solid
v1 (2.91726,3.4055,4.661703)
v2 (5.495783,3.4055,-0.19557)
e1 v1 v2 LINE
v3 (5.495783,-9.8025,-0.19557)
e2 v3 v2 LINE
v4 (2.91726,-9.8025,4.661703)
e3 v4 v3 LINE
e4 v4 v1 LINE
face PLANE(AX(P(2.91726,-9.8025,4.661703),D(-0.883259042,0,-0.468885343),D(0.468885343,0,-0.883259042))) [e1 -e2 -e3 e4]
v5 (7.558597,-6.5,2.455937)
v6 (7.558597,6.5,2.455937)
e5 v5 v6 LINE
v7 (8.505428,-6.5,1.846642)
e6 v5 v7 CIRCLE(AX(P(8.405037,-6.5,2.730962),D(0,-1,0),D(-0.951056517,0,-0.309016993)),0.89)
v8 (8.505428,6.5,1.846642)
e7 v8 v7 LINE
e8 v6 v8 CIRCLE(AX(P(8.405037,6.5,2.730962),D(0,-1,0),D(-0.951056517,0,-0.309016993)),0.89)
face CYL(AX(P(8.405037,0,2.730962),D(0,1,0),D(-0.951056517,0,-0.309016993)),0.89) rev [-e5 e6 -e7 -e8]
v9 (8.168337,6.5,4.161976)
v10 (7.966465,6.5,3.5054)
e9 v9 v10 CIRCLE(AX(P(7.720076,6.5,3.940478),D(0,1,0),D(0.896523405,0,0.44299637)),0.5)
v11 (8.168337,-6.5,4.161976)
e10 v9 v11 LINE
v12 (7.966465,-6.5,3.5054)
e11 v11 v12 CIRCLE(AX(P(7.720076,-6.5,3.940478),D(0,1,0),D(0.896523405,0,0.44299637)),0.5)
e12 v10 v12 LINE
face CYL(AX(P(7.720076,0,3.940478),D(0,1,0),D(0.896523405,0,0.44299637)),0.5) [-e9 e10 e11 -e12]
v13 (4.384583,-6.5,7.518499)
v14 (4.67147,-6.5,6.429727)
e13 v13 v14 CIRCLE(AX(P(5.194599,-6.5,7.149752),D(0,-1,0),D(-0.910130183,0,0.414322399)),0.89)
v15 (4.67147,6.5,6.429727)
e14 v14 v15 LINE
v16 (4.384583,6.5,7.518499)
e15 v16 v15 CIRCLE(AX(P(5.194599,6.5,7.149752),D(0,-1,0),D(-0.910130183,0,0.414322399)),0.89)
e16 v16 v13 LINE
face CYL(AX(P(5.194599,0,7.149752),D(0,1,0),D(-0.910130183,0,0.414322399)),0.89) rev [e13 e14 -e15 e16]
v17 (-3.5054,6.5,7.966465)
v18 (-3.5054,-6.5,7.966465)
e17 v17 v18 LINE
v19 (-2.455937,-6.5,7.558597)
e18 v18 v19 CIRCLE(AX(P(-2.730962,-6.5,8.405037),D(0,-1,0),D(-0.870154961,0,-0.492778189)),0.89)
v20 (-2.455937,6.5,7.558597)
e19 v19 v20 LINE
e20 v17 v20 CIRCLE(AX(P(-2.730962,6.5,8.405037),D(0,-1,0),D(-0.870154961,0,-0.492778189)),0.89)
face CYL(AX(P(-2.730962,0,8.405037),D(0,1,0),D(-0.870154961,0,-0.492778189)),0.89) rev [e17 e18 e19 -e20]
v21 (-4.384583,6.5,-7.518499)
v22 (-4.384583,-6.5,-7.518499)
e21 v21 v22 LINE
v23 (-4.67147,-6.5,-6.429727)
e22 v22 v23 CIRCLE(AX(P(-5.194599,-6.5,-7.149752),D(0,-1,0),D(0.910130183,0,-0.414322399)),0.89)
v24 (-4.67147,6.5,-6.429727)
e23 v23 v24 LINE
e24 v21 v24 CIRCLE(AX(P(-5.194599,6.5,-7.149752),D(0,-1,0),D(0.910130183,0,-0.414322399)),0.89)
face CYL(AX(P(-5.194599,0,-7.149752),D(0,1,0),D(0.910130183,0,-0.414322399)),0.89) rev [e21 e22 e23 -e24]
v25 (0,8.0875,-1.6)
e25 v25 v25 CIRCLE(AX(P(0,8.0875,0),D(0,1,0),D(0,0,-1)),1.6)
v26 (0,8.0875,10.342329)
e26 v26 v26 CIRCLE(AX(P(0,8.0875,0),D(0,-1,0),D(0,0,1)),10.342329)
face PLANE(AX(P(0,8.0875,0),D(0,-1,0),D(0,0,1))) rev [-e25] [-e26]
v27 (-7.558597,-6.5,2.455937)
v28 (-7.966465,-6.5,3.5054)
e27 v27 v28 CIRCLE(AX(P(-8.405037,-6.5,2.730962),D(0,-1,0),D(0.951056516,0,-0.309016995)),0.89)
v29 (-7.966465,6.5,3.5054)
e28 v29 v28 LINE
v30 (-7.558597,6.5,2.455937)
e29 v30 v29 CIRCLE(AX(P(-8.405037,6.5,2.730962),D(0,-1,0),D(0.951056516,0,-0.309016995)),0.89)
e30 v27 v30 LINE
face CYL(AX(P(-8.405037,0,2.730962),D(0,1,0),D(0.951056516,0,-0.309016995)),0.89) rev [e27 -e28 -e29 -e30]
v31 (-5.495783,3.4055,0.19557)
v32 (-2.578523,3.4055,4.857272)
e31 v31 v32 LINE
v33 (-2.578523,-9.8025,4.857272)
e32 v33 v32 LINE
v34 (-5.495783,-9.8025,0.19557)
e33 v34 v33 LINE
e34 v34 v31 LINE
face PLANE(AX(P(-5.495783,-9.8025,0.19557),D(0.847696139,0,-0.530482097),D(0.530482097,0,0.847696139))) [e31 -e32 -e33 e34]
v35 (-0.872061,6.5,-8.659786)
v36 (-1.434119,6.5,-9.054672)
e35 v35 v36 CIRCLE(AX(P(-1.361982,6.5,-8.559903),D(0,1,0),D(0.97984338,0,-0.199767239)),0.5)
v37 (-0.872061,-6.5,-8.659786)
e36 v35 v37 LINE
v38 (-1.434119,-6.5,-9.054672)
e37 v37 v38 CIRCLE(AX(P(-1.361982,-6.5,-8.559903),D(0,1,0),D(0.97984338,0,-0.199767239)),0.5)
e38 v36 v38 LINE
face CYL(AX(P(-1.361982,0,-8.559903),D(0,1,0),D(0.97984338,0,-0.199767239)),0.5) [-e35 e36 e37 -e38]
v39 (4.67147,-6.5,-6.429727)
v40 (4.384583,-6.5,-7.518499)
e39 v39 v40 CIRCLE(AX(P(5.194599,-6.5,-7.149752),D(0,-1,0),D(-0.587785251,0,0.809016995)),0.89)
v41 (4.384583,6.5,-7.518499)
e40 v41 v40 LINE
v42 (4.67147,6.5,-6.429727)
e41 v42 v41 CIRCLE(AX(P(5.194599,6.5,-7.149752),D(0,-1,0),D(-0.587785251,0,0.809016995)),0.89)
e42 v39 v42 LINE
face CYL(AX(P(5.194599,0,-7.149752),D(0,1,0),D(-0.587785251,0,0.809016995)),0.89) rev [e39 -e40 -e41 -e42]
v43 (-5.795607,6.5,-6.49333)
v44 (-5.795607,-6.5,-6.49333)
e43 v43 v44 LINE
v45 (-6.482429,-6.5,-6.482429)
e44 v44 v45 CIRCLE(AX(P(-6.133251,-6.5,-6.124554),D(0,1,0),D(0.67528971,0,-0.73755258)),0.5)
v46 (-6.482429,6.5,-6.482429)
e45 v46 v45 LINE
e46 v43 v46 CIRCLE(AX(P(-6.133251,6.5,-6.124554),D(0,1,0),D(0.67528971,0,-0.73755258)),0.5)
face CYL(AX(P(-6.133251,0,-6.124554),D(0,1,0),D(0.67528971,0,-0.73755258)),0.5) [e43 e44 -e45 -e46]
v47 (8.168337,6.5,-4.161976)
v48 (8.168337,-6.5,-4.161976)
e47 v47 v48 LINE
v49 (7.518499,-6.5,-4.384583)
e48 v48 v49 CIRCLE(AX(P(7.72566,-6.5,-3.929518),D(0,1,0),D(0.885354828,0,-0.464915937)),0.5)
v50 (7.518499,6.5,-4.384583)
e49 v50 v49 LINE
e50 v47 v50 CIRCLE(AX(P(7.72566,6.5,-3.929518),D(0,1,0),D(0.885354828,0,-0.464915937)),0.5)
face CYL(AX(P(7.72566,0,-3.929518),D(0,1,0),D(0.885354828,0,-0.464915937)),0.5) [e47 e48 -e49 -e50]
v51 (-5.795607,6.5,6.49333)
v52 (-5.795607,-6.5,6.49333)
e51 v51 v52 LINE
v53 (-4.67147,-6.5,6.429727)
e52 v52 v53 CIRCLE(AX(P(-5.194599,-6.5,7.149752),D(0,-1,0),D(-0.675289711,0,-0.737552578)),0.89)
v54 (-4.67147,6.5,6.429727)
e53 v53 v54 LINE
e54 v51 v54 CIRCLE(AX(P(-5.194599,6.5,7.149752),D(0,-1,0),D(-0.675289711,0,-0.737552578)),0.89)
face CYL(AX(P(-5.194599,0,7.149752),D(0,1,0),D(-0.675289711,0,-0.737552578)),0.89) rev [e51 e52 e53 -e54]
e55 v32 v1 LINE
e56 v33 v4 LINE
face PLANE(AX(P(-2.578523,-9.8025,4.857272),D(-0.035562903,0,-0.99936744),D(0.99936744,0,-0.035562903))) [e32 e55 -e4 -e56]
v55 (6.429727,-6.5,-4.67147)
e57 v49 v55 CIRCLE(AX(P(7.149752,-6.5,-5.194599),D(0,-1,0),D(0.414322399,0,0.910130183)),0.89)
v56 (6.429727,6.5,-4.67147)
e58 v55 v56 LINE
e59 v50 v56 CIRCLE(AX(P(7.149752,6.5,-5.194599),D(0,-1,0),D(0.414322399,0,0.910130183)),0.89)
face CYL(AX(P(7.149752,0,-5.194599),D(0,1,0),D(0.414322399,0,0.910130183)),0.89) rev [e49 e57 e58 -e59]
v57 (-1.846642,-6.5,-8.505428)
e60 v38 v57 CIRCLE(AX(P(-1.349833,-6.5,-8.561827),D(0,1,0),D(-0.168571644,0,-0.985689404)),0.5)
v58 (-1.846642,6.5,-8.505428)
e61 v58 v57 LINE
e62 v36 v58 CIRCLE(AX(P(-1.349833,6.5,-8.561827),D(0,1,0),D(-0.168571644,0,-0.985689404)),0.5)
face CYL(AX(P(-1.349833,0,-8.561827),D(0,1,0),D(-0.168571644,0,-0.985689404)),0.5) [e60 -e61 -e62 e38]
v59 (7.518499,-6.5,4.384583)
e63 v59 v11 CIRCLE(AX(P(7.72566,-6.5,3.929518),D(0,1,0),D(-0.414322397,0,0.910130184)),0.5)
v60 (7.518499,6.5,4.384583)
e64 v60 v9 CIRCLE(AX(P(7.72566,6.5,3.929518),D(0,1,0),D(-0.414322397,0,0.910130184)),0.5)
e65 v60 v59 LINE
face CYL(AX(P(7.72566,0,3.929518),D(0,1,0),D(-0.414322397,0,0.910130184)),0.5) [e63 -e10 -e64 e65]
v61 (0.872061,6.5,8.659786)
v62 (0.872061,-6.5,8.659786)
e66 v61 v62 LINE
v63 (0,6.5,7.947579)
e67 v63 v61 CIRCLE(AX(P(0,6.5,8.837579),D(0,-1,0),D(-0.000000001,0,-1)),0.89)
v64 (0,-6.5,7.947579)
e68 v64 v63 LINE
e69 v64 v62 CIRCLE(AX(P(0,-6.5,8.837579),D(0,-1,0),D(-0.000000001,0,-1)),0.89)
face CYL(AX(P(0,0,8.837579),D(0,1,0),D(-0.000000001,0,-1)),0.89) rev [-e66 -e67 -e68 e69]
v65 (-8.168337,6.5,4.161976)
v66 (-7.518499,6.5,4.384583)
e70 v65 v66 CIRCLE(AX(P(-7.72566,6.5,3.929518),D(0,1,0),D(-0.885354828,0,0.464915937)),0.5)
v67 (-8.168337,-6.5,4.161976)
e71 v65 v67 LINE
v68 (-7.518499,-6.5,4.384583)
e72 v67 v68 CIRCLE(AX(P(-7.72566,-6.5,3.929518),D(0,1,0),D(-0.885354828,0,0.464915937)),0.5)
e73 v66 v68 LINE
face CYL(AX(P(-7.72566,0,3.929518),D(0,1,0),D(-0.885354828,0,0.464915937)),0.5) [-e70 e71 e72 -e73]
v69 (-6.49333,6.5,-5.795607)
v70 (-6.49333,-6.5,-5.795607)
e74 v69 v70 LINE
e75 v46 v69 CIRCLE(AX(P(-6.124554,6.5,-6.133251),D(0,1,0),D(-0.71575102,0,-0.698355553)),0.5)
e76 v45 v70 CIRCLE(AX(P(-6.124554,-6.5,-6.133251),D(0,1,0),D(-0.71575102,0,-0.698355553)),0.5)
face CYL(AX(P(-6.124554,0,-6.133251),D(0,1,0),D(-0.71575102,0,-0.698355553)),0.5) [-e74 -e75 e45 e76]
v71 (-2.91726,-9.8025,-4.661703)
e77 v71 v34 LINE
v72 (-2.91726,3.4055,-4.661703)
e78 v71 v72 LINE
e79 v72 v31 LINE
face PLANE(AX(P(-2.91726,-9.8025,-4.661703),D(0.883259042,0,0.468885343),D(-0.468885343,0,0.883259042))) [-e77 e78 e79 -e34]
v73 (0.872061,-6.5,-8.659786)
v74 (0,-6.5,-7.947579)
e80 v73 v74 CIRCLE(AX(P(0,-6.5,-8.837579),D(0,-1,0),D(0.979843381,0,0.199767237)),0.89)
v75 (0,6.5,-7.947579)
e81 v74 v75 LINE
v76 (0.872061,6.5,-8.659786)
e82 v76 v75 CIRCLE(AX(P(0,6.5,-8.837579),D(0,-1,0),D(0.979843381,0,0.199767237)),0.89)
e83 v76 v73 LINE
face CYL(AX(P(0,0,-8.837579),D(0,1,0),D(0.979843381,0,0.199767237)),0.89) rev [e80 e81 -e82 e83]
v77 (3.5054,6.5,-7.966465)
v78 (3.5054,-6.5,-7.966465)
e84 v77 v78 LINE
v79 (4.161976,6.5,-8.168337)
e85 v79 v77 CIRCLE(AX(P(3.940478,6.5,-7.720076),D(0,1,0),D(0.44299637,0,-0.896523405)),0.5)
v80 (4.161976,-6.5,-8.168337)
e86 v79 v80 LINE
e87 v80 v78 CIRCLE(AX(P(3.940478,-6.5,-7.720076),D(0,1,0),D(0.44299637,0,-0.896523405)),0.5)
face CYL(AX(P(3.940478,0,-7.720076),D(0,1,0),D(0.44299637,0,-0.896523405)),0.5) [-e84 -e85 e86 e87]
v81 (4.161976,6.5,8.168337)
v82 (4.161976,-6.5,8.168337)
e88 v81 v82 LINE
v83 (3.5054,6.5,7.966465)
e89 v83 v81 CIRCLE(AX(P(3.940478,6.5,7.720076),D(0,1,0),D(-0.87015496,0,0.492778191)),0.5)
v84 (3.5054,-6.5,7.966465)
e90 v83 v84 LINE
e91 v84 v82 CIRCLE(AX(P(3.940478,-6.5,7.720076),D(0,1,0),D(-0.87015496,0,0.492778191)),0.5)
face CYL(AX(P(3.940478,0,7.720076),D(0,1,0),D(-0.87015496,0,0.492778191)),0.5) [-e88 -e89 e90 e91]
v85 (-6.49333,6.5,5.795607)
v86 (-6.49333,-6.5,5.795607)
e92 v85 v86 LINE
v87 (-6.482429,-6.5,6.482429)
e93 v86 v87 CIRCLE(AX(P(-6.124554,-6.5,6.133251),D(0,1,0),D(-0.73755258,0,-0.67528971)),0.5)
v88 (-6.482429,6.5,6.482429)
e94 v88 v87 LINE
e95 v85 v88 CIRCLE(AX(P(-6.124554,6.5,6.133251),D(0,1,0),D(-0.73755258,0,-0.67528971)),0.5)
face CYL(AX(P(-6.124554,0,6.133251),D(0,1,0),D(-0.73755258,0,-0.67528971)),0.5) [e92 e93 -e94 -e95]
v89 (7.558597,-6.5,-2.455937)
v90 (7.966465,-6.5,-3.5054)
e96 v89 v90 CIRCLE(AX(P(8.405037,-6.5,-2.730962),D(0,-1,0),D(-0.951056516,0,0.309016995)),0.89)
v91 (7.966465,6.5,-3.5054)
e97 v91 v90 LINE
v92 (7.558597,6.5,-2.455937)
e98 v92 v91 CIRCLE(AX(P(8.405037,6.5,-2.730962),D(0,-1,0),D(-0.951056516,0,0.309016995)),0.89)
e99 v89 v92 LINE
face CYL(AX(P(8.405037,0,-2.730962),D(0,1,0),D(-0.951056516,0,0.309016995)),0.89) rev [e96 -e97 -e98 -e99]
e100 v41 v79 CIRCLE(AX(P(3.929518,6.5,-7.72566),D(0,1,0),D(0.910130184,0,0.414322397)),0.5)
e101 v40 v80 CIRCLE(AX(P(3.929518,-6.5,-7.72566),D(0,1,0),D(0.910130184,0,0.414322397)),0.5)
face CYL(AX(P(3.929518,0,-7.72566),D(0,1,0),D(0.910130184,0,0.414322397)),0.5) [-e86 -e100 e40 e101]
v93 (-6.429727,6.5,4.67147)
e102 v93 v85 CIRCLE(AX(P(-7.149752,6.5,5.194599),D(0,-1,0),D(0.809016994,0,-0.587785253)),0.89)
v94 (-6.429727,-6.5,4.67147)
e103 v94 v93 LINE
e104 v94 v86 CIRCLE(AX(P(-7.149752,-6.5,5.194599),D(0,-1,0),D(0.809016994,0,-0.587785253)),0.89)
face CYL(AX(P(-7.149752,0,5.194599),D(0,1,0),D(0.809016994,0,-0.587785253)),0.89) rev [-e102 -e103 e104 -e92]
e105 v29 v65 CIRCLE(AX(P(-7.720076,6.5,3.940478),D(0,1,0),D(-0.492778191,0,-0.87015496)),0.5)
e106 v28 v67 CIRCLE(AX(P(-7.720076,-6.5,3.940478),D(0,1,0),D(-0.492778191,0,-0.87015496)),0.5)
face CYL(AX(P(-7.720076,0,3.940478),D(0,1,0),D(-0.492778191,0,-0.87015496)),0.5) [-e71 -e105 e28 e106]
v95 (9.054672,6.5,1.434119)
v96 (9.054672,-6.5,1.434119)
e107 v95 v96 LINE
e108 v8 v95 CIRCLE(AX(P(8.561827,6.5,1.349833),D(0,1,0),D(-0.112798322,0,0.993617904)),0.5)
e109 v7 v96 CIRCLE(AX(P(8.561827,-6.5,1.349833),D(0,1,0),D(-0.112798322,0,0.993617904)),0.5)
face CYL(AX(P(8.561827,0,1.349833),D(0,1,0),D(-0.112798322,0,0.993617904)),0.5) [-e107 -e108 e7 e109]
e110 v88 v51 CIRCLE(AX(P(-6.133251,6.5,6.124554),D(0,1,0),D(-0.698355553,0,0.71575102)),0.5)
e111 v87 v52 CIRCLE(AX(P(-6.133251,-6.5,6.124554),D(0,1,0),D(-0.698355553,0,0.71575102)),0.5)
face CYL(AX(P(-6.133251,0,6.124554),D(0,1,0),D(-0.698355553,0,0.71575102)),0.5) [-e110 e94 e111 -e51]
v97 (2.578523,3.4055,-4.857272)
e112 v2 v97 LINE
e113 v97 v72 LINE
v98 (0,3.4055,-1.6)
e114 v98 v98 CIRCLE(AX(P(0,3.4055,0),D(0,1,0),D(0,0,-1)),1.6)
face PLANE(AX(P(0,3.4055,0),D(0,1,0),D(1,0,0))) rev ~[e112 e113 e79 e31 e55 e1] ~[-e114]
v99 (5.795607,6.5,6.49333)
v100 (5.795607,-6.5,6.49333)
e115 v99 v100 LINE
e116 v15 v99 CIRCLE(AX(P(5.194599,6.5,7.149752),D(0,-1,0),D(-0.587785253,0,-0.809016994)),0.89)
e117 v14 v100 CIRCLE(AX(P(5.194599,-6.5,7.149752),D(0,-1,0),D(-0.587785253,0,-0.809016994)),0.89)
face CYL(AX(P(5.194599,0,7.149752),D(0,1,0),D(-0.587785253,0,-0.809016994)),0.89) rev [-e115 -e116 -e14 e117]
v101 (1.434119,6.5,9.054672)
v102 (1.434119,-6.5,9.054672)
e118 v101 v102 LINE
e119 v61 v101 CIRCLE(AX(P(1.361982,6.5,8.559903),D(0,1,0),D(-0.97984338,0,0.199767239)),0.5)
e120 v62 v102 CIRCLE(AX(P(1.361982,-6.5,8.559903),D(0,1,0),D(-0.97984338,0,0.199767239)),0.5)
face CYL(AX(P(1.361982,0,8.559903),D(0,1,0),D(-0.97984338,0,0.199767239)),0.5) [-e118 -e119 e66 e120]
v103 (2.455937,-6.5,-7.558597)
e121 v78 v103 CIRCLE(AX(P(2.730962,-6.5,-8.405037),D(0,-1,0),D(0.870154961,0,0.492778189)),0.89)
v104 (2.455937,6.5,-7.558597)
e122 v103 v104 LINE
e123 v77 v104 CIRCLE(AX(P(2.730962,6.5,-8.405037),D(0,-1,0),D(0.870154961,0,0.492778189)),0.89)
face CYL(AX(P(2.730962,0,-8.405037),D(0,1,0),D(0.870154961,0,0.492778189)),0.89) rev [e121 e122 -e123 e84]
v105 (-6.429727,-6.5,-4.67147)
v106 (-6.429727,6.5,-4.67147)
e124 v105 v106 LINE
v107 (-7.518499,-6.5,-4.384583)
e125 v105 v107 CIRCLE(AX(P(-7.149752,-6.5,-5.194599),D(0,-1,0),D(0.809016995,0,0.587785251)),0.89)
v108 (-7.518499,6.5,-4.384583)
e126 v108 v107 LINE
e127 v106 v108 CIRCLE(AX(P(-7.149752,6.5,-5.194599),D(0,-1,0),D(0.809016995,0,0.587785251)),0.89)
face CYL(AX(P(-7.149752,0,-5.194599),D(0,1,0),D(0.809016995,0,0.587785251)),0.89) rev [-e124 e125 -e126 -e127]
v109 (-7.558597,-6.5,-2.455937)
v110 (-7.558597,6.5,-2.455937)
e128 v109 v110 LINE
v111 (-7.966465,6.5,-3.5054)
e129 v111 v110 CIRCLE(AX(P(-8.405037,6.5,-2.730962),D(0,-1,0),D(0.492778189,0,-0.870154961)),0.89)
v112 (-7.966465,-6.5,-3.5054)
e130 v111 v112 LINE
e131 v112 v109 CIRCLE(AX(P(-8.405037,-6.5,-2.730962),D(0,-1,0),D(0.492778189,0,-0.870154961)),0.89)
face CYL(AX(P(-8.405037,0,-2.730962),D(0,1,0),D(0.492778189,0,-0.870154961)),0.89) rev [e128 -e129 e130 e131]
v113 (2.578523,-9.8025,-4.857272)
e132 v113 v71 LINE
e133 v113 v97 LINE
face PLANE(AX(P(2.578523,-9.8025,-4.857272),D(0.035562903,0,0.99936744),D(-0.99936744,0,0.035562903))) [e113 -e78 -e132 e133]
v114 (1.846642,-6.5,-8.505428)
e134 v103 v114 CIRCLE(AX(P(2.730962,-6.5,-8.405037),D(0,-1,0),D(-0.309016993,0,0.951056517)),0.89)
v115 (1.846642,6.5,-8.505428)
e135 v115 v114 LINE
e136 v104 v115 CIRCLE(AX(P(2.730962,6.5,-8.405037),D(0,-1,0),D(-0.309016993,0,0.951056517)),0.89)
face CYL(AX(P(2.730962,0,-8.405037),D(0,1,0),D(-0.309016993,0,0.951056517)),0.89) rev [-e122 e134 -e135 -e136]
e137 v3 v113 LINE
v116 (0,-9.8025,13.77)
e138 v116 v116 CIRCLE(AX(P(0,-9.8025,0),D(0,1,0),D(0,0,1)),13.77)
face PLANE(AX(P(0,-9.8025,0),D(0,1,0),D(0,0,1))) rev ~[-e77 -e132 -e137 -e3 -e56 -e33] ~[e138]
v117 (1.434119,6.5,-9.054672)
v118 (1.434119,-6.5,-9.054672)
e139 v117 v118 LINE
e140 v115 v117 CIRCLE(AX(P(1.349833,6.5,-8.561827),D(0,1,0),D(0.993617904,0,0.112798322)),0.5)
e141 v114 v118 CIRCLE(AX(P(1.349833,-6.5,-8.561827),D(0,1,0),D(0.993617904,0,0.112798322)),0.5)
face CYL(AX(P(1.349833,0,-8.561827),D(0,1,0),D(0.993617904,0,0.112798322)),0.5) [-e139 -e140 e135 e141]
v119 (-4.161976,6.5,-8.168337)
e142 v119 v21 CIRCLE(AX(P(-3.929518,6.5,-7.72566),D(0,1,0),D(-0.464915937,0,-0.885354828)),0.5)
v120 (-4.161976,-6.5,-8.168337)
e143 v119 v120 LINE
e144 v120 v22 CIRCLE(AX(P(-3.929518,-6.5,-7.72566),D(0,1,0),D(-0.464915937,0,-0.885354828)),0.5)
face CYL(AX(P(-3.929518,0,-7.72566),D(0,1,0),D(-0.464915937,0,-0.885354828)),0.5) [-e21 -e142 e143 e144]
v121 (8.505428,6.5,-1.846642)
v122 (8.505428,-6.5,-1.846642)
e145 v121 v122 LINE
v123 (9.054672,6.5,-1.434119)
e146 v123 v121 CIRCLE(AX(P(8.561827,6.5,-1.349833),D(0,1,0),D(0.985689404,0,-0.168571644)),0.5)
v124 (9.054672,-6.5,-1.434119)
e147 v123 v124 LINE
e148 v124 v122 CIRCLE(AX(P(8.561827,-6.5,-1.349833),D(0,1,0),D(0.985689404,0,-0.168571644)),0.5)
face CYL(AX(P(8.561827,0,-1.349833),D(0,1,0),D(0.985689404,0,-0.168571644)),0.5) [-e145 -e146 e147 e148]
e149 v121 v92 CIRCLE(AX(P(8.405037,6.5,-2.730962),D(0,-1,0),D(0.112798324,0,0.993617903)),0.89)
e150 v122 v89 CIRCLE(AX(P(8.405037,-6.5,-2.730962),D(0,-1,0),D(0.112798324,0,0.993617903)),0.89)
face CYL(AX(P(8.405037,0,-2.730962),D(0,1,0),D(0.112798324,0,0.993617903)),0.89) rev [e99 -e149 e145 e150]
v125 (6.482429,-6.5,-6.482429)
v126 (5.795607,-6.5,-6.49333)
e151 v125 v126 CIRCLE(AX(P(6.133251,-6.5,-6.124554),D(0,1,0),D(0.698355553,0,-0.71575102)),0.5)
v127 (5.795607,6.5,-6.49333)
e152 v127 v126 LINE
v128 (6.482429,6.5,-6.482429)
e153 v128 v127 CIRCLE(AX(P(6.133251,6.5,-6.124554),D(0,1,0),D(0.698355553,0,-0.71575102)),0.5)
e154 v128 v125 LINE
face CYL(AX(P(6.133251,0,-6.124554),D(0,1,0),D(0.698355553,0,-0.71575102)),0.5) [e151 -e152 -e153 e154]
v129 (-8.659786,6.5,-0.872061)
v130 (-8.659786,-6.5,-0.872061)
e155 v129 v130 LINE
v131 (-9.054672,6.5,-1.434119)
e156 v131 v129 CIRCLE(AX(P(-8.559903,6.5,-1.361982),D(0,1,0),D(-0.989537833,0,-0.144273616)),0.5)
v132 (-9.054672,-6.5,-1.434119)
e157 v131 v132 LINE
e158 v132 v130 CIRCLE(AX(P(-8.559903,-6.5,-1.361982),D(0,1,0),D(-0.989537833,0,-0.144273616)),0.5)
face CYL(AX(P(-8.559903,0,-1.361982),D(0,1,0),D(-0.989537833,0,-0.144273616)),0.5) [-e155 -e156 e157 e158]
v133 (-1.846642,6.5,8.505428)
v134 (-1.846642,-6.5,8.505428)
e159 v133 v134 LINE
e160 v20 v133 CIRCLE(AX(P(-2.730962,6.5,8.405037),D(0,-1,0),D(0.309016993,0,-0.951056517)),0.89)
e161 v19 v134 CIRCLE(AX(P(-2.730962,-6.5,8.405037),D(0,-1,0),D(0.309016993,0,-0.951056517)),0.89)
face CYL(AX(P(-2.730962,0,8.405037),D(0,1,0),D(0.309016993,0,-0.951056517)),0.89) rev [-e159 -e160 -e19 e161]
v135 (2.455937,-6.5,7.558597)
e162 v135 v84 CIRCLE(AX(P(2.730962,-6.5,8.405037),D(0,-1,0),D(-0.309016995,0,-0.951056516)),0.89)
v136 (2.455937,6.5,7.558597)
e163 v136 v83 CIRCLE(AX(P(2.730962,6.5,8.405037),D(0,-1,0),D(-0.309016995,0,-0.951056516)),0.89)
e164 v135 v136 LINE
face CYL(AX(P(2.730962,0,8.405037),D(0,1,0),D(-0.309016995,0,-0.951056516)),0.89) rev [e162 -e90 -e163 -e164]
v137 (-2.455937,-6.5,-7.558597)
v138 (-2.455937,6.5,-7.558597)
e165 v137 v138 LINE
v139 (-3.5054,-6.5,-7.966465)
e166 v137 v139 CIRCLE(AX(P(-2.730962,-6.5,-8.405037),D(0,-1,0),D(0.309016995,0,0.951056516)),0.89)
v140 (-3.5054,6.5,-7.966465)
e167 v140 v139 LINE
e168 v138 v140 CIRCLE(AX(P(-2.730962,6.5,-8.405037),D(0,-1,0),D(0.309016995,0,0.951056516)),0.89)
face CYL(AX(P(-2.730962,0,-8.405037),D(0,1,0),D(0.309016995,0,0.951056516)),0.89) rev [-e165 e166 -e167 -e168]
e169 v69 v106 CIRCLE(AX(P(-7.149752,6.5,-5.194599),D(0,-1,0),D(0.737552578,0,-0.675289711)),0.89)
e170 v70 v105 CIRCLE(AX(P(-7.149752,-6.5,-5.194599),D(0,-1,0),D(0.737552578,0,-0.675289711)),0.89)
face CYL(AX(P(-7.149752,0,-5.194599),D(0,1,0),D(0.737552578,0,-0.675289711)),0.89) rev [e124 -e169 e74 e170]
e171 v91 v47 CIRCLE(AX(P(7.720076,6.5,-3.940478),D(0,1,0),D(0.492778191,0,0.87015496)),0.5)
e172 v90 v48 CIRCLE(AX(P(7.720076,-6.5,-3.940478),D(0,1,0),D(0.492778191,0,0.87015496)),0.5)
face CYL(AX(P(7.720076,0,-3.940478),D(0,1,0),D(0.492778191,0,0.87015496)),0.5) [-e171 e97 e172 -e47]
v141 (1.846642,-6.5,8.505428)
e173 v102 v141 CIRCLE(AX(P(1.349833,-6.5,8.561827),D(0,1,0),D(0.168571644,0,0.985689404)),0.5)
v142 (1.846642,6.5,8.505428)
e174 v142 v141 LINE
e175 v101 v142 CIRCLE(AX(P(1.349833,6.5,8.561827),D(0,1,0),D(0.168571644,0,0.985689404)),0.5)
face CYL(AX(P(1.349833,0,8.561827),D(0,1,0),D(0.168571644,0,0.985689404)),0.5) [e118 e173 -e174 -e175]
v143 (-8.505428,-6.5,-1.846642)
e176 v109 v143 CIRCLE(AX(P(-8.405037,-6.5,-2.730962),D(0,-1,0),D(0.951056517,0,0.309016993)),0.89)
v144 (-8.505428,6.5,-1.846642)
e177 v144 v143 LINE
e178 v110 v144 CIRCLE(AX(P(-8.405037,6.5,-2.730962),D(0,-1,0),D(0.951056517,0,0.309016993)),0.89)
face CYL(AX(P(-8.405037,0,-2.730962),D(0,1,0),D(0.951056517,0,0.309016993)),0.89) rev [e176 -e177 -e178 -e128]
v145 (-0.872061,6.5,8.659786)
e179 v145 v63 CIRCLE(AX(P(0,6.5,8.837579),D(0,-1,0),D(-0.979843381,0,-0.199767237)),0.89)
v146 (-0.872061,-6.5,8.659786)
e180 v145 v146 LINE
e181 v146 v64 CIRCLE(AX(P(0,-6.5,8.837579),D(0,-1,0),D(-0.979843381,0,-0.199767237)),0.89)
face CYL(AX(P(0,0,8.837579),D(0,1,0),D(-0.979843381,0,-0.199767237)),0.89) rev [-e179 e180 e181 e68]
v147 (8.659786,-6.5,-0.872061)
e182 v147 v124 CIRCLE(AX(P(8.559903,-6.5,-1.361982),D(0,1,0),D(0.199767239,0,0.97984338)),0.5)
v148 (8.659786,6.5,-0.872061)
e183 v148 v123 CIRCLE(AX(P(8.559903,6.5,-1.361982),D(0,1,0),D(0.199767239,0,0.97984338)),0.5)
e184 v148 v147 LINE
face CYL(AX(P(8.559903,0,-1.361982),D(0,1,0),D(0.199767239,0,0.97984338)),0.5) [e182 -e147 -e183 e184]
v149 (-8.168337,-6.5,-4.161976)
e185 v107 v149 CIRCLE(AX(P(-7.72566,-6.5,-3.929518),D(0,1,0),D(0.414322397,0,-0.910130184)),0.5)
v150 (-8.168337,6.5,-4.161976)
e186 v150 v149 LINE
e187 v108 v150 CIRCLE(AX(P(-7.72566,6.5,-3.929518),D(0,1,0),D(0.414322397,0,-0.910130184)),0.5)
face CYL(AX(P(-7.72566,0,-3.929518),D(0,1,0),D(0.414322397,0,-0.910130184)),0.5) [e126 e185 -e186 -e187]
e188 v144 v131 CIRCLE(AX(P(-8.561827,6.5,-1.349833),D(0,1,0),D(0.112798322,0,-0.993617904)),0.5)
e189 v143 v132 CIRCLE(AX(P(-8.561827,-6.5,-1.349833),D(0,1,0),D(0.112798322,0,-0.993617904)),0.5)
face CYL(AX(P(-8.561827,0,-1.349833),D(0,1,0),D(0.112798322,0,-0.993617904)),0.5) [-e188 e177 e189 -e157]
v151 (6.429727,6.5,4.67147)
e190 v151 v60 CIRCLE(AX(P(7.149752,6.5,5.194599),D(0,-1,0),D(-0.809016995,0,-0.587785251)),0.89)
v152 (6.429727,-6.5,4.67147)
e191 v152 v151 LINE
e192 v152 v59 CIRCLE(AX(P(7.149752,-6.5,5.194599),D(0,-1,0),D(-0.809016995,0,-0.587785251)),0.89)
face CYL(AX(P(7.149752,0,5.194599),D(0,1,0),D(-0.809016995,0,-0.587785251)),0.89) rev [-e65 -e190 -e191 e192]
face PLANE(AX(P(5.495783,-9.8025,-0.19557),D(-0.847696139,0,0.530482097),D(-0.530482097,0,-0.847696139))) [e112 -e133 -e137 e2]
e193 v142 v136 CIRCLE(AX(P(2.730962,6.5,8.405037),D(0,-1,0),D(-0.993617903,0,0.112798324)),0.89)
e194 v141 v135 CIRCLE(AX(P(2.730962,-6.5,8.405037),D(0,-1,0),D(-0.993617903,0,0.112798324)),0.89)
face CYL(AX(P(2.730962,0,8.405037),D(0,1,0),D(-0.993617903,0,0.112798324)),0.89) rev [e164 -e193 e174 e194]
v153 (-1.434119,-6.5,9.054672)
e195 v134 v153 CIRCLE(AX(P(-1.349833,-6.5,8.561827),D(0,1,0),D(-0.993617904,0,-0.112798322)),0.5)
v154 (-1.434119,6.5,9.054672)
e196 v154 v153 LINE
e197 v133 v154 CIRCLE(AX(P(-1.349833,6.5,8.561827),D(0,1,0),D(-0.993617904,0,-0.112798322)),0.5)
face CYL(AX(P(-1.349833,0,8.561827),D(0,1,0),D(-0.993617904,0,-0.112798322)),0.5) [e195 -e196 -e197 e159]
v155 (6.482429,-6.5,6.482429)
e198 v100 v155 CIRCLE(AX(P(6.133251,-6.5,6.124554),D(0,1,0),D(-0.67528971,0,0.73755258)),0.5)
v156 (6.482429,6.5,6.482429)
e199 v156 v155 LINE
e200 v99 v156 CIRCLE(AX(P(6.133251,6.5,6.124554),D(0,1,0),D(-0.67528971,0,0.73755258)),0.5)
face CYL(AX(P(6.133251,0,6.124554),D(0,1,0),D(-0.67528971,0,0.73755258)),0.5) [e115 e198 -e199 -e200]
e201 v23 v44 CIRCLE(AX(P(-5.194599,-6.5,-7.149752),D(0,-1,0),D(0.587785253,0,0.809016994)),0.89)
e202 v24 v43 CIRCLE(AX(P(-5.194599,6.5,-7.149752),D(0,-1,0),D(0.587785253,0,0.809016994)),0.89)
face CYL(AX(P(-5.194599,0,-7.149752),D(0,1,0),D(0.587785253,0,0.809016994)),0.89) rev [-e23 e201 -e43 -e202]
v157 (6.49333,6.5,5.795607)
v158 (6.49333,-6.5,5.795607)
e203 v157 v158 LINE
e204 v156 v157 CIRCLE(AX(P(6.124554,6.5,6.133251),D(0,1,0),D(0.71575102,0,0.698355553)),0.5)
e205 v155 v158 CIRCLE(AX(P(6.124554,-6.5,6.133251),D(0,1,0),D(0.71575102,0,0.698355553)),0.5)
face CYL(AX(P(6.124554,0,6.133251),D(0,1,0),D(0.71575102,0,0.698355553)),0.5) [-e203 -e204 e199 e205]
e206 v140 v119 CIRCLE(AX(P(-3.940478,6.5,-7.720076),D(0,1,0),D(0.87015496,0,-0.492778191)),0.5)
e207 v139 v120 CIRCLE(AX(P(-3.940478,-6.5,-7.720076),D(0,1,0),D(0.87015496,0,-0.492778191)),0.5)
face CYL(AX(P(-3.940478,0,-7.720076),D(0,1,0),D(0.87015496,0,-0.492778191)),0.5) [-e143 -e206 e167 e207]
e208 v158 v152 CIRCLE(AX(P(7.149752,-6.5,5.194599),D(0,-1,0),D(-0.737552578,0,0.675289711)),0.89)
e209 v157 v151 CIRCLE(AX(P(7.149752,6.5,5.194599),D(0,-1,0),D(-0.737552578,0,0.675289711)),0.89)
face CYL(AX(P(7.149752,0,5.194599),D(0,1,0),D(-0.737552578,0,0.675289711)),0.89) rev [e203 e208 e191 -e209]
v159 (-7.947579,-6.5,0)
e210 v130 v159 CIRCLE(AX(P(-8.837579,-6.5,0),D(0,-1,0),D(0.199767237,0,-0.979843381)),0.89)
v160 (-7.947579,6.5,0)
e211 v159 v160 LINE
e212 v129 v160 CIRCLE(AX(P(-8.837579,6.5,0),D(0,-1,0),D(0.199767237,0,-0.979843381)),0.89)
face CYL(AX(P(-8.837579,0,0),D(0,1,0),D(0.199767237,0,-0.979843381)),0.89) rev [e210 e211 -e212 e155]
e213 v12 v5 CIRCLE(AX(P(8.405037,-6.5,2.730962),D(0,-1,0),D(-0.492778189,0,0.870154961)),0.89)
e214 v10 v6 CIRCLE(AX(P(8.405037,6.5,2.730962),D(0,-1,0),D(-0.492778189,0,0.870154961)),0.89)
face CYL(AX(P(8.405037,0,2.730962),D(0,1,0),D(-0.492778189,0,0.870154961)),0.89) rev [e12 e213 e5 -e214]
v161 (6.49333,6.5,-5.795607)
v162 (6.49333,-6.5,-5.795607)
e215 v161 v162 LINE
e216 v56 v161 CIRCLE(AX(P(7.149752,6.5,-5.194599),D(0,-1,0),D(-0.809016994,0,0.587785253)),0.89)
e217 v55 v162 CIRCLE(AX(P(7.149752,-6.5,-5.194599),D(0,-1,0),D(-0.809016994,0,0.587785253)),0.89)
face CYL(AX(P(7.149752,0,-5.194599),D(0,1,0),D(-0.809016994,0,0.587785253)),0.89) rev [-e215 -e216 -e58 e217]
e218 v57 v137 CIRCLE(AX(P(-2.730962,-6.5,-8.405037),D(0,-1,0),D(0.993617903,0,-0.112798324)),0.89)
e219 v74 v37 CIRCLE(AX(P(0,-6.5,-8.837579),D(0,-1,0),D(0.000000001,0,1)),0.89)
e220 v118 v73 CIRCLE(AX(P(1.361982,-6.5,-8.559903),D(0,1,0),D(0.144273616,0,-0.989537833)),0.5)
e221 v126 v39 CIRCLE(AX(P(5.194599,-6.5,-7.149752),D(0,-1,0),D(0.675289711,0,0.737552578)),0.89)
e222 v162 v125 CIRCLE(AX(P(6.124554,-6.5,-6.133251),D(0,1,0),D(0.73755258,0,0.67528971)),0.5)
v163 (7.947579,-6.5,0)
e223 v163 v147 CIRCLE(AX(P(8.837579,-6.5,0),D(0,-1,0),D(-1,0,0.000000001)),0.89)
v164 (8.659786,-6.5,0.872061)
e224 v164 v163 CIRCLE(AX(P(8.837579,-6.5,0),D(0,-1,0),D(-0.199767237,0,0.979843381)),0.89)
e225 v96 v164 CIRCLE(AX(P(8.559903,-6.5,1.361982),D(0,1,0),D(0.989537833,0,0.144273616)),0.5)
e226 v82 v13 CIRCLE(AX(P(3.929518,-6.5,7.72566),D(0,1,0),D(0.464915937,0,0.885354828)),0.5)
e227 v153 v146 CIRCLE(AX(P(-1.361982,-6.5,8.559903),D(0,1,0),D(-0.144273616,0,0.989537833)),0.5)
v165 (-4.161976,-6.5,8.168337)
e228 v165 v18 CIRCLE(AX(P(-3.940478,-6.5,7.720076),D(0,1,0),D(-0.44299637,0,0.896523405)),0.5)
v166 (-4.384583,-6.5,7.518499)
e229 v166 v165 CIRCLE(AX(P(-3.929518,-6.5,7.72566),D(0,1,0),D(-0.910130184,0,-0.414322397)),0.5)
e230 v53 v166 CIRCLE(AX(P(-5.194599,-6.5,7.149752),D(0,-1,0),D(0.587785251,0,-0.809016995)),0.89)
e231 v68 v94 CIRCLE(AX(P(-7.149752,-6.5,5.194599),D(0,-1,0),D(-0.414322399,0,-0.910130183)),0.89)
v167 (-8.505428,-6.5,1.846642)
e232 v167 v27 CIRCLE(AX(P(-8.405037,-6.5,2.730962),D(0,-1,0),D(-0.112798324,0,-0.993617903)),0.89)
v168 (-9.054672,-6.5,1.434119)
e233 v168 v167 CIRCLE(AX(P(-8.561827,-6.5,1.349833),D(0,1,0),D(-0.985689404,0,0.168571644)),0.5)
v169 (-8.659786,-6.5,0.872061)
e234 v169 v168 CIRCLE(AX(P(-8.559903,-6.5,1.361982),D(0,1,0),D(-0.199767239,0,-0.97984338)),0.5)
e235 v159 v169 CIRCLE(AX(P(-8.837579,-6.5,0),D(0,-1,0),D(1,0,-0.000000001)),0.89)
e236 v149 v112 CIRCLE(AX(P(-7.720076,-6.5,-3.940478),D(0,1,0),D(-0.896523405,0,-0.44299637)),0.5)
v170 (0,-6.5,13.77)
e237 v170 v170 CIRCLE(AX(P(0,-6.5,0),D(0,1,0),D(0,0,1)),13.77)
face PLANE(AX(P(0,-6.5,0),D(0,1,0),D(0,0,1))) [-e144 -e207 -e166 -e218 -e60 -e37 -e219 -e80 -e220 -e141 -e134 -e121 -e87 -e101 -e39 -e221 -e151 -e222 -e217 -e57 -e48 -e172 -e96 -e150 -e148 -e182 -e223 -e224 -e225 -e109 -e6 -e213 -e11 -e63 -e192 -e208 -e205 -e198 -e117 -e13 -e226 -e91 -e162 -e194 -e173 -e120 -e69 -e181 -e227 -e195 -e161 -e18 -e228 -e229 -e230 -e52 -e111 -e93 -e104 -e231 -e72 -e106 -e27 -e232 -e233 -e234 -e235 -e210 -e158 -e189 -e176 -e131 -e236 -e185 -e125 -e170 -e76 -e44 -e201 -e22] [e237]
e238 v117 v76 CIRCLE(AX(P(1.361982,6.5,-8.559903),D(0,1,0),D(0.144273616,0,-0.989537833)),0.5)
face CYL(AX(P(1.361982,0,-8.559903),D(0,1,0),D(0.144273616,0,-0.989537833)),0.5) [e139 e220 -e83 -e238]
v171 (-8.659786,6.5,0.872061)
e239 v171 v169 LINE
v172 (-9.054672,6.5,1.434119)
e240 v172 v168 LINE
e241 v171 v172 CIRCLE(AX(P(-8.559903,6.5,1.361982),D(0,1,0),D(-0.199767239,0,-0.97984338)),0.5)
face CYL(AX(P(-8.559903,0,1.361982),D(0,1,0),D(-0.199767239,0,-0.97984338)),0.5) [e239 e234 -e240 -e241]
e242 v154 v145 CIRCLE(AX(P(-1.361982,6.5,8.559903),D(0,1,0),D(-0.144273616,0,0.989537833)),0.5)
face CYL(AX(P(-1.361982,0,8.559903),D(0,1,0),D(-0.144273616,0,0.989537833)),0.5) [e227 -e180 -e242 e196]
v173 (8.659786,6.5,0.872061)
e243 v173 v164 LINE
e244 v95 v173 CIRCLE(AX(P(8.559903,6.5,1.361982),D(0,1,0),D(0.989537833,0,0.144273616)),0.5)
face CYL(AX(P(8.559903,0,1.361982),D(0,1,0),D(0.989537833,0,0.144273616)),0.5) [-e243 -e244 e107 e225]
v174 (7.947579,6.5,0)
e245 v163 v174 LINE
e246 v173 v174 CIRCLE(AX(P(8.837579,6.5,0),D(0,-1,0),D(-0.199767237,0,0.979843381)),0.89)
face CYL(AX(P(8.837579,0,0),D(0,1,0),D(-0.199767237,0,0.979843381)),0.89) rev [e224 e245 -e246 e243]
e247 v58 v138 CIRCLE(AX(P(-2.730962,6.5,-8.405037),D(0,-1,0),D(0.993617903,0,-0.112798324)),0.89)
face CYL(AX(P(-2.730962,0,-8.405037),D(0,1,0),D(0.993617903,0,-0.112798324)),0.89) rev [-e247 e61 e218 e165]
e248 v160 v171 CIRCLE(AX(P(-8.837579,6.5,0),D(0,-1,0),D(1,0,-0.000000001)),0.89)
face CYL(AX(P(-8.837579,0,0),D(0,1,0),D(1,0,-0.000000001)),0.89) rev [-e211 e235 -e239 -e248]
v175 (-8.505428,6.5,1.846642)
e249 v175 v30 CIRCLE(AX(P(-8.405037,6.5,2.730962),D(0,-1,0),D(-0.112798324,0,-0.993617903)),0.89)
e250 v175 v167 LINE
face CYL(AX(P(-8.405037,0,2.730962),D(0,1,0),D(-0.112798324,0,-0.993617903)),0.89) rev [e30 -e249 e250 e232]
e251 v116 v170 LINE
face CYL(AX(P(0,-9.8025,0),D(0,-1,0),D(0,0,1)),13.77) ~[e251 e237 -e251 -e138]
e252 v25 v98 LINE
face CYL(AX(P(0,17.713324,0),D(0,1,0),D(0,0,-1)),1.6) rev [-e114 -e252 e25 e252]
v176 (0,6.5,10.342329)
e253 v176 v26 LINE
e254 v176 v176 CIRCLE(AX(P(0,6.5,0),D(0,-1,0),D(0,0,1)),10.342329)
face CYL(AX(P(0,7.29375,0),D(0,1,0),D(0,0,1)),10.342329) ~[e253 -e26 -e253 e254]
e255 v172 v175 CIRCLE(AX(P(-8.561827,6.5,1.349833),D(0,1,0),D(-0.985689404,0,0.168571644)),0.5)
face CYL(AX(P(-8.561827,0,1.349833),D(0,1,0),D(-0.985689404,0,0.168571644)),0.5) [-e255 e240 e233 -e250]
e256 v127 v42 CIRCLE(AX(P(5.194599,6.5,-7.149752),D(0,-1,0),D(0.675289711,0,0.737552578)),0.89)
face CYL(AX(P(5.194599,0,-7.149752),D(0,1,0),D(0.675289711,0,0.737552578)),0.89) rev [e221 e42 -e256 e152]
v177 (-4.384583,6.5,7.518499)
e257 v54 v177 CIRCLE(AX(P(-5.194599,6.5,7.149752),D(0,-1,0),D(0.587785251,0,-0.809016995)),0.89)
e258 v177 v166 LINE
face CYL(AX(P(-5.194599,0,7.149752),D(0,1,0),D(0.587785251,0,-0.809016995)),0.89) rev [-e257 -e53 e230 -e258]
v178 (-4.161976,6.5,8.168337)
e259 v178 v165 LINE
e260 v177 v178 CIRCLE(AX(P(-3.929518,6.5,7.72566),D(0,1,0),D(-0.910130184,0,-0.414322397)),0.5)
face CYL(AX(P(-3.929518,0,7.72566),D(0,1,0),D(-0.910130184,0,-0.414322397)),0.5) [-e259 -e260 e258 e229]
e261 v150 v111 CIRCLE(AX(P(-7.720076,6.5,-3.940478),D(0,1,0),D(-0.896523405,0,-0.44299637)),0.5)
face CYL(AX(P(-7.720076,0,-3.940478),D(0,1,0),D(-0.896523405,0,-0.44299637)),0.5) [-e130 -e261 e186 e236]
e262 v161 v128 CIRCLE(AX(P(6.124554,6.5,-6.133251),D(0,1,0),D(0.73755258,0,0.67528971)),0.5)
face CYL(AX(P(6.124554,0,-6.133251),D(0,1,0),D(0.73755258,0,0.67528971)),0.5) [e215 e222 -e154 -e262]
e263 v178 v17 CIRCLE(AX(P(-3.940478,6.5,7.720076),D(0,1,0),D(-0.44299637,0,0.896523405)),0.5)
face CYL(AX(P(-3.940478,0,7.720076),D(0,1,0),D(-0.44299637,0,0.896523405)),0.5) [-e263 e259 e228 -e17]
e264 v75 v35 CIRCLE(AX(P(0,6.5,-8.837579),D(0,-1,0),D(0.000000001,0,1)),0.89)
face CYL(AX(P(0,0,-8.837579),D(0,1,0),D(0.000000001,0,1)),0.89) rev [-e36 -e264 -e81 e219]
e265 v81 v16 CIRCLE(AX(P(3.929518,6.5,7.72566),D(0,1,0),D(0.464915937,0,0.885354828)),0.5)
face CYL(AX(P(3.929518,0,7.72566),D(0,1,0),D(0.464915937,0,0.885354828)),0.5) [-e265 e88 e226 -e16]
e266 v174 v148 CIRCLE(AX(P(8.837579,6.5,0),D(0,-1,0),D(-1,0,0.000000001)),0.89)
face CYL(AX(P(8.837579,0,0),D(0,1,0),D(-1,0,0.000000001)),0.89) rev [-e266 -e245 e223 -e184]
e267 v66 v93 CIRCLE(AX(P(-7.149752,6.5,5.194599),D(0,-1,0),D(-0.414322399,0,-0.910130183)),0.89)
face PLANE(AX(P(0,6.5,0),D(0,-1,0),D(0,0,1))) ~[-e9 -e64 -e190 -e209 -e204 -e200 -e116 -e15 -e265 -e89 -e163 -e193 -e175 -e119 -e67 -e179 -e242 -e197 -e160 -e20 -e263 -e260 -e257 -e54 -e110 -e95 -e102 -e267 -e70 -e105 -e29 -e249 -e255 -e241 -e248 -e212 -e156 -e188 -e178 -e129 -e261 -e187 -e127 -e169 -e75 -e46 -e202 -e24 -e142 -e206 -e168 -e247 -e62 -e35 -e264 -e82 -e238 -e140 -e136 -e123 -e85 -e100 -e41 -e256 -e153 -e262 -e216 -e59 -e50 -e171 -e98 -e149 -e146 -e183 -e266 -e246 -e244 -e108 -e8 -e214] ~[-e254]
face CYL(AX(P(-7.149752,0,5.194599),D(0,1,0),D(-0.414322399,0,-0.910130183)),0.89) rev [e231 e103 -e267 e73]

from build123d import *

# Parameters (mm, degrees)
BOSS_EXTRUDE1_DEPTH     = 6.499999954
CIRPATTERN1_COUNT       = 20
SKETCH2_W               = 10.342329408
SKETCH2_H               = 1.5875
CUT_EXTRUDE1_DEPTH      = 17.713324345
CUT_EXTRUDE1_DEPTH_BACK = 17.713324345
SKETCH3_R               = 1.6
SKETCH4_R               = 13.77
BOSS_EXTRUDE2_DEPTH     = 3.30250003
CUT_EXTRUDE2_DEPTH      = 13.208


with BuildPart() as part:
    # Sketch1 → Boss-Extrude1 (new, symmetric)
    with BuildSketch(Plane(origin=(0, 0, 0), x_dir=(1, 0, 0), z_dir=(0, 1, 0))):
        with BuildLine():
            ThreePointArc((0.872060607, 8.659786465), (0.562967303, 8.148255135), (0, 7.947579308))
            ThreePointArc((0, 7.947579308), (-1.243275317, -7.849731418), (2.45593707, 7.55859709))
            ThreePointArc((2.45593707, 7.55859709), (1.982535589, 7.923417607), (1.846642263, 8.505427895))
            ThreePointArc((1.846642263, 8.505427895), (1.749626992, 8.862101959), (1.434119122, 9.054671776))
            ThreePointArc((1.434119122, 9.054671776), (1.074545959, 8.969024291), (0.872060607, 8.659786465))
        make_face()
    boss_extrude1 = extrude(amount=BOSS_EXTRUDE1_DEPTH, both=True)

    # CirPattern1: Boss-Extrude1 ×20 about axis
    cirpattern1_axis = Axis((0, 0, 0), (0, 1, 0))
    for i in range(1, CIRPATTERN1_COUNT):
        add(boss_extrude1.rotate(cirpattern1_axis, i * 360 / CIRPATTERN1_COUNT))

    # Sketch2 → Revolve3 (revolve)
    with BuildSketch(Plane(origin=(0, 0, 0), x_dir=(0, 0, -1), z_dir=(1, 0, 0)), mode=Mode.PRIVATE) as revolve3_sk:
        with Locations((5.171164704, 7.293749954)):
            Rectangle(SKETCH2_W, SKETCH2_H)
    revolve(revolve3_sk.sketch.rotate(Axis((0, 3.3, 0), (0, -1, 0)), 180), axis=Axis((0, 3.3, 0), (0, -1, 0)))

    # Sketch3 → Cut-Extrude1 (cut, two sides: drawn at the far end of the back side and taken through both)
    with BuildSketch(Plane(origin=(0, 0, 0), x_dir=(-1, 0, 0), z_dir=(0, -1, 0)).offset(-CUT_EXTRUDE1_DEPTH_BACK)):
        with Locations(Location((0, 0, 0), (0, 0, 90))):
            Circle(SKETCH3_R)
    extrude(amount=CUT_EXTRUDE1_DEPTH + CUT_EXTRUDE1_DEPTH_BACK, mode=Mode.SUBTRACT)

    # Sketch4 → Boss-Extrude2 (add)
    with BuildSketch(Plane(origin=(0, -9.802499984, 0), x_dir=(1, 0, 0), z_dir=(0, 1, 0))):
        with Locations(Location((0, 0, 0), (0, 0, 270))):
            Circle(SKETCH4_R)
    extrude(amount=BOSS_EXTRUDE2_DEPTH)

    # Sketch5 → Cut-Extrude2 (cut)
    with BuildSketch(Plane(origin=(0, -9.802499984, 0), x_dir=(1, 0, 0), z_dir=(0, 1, 0))):
        Polygon((-2.917259676, 4.661702584), (-5.495782701, -0.195569697), (-2.578523025, -4.857272281), (2.917259676, -4.661702584), (5.495782701, 0.195569697), (2.578523025, 4.857272281), align=None)
    extrude(amount=CUT_EXTRUDE2_DEPTH, mode=Mode.SUBTRACT)


solid = part.part
